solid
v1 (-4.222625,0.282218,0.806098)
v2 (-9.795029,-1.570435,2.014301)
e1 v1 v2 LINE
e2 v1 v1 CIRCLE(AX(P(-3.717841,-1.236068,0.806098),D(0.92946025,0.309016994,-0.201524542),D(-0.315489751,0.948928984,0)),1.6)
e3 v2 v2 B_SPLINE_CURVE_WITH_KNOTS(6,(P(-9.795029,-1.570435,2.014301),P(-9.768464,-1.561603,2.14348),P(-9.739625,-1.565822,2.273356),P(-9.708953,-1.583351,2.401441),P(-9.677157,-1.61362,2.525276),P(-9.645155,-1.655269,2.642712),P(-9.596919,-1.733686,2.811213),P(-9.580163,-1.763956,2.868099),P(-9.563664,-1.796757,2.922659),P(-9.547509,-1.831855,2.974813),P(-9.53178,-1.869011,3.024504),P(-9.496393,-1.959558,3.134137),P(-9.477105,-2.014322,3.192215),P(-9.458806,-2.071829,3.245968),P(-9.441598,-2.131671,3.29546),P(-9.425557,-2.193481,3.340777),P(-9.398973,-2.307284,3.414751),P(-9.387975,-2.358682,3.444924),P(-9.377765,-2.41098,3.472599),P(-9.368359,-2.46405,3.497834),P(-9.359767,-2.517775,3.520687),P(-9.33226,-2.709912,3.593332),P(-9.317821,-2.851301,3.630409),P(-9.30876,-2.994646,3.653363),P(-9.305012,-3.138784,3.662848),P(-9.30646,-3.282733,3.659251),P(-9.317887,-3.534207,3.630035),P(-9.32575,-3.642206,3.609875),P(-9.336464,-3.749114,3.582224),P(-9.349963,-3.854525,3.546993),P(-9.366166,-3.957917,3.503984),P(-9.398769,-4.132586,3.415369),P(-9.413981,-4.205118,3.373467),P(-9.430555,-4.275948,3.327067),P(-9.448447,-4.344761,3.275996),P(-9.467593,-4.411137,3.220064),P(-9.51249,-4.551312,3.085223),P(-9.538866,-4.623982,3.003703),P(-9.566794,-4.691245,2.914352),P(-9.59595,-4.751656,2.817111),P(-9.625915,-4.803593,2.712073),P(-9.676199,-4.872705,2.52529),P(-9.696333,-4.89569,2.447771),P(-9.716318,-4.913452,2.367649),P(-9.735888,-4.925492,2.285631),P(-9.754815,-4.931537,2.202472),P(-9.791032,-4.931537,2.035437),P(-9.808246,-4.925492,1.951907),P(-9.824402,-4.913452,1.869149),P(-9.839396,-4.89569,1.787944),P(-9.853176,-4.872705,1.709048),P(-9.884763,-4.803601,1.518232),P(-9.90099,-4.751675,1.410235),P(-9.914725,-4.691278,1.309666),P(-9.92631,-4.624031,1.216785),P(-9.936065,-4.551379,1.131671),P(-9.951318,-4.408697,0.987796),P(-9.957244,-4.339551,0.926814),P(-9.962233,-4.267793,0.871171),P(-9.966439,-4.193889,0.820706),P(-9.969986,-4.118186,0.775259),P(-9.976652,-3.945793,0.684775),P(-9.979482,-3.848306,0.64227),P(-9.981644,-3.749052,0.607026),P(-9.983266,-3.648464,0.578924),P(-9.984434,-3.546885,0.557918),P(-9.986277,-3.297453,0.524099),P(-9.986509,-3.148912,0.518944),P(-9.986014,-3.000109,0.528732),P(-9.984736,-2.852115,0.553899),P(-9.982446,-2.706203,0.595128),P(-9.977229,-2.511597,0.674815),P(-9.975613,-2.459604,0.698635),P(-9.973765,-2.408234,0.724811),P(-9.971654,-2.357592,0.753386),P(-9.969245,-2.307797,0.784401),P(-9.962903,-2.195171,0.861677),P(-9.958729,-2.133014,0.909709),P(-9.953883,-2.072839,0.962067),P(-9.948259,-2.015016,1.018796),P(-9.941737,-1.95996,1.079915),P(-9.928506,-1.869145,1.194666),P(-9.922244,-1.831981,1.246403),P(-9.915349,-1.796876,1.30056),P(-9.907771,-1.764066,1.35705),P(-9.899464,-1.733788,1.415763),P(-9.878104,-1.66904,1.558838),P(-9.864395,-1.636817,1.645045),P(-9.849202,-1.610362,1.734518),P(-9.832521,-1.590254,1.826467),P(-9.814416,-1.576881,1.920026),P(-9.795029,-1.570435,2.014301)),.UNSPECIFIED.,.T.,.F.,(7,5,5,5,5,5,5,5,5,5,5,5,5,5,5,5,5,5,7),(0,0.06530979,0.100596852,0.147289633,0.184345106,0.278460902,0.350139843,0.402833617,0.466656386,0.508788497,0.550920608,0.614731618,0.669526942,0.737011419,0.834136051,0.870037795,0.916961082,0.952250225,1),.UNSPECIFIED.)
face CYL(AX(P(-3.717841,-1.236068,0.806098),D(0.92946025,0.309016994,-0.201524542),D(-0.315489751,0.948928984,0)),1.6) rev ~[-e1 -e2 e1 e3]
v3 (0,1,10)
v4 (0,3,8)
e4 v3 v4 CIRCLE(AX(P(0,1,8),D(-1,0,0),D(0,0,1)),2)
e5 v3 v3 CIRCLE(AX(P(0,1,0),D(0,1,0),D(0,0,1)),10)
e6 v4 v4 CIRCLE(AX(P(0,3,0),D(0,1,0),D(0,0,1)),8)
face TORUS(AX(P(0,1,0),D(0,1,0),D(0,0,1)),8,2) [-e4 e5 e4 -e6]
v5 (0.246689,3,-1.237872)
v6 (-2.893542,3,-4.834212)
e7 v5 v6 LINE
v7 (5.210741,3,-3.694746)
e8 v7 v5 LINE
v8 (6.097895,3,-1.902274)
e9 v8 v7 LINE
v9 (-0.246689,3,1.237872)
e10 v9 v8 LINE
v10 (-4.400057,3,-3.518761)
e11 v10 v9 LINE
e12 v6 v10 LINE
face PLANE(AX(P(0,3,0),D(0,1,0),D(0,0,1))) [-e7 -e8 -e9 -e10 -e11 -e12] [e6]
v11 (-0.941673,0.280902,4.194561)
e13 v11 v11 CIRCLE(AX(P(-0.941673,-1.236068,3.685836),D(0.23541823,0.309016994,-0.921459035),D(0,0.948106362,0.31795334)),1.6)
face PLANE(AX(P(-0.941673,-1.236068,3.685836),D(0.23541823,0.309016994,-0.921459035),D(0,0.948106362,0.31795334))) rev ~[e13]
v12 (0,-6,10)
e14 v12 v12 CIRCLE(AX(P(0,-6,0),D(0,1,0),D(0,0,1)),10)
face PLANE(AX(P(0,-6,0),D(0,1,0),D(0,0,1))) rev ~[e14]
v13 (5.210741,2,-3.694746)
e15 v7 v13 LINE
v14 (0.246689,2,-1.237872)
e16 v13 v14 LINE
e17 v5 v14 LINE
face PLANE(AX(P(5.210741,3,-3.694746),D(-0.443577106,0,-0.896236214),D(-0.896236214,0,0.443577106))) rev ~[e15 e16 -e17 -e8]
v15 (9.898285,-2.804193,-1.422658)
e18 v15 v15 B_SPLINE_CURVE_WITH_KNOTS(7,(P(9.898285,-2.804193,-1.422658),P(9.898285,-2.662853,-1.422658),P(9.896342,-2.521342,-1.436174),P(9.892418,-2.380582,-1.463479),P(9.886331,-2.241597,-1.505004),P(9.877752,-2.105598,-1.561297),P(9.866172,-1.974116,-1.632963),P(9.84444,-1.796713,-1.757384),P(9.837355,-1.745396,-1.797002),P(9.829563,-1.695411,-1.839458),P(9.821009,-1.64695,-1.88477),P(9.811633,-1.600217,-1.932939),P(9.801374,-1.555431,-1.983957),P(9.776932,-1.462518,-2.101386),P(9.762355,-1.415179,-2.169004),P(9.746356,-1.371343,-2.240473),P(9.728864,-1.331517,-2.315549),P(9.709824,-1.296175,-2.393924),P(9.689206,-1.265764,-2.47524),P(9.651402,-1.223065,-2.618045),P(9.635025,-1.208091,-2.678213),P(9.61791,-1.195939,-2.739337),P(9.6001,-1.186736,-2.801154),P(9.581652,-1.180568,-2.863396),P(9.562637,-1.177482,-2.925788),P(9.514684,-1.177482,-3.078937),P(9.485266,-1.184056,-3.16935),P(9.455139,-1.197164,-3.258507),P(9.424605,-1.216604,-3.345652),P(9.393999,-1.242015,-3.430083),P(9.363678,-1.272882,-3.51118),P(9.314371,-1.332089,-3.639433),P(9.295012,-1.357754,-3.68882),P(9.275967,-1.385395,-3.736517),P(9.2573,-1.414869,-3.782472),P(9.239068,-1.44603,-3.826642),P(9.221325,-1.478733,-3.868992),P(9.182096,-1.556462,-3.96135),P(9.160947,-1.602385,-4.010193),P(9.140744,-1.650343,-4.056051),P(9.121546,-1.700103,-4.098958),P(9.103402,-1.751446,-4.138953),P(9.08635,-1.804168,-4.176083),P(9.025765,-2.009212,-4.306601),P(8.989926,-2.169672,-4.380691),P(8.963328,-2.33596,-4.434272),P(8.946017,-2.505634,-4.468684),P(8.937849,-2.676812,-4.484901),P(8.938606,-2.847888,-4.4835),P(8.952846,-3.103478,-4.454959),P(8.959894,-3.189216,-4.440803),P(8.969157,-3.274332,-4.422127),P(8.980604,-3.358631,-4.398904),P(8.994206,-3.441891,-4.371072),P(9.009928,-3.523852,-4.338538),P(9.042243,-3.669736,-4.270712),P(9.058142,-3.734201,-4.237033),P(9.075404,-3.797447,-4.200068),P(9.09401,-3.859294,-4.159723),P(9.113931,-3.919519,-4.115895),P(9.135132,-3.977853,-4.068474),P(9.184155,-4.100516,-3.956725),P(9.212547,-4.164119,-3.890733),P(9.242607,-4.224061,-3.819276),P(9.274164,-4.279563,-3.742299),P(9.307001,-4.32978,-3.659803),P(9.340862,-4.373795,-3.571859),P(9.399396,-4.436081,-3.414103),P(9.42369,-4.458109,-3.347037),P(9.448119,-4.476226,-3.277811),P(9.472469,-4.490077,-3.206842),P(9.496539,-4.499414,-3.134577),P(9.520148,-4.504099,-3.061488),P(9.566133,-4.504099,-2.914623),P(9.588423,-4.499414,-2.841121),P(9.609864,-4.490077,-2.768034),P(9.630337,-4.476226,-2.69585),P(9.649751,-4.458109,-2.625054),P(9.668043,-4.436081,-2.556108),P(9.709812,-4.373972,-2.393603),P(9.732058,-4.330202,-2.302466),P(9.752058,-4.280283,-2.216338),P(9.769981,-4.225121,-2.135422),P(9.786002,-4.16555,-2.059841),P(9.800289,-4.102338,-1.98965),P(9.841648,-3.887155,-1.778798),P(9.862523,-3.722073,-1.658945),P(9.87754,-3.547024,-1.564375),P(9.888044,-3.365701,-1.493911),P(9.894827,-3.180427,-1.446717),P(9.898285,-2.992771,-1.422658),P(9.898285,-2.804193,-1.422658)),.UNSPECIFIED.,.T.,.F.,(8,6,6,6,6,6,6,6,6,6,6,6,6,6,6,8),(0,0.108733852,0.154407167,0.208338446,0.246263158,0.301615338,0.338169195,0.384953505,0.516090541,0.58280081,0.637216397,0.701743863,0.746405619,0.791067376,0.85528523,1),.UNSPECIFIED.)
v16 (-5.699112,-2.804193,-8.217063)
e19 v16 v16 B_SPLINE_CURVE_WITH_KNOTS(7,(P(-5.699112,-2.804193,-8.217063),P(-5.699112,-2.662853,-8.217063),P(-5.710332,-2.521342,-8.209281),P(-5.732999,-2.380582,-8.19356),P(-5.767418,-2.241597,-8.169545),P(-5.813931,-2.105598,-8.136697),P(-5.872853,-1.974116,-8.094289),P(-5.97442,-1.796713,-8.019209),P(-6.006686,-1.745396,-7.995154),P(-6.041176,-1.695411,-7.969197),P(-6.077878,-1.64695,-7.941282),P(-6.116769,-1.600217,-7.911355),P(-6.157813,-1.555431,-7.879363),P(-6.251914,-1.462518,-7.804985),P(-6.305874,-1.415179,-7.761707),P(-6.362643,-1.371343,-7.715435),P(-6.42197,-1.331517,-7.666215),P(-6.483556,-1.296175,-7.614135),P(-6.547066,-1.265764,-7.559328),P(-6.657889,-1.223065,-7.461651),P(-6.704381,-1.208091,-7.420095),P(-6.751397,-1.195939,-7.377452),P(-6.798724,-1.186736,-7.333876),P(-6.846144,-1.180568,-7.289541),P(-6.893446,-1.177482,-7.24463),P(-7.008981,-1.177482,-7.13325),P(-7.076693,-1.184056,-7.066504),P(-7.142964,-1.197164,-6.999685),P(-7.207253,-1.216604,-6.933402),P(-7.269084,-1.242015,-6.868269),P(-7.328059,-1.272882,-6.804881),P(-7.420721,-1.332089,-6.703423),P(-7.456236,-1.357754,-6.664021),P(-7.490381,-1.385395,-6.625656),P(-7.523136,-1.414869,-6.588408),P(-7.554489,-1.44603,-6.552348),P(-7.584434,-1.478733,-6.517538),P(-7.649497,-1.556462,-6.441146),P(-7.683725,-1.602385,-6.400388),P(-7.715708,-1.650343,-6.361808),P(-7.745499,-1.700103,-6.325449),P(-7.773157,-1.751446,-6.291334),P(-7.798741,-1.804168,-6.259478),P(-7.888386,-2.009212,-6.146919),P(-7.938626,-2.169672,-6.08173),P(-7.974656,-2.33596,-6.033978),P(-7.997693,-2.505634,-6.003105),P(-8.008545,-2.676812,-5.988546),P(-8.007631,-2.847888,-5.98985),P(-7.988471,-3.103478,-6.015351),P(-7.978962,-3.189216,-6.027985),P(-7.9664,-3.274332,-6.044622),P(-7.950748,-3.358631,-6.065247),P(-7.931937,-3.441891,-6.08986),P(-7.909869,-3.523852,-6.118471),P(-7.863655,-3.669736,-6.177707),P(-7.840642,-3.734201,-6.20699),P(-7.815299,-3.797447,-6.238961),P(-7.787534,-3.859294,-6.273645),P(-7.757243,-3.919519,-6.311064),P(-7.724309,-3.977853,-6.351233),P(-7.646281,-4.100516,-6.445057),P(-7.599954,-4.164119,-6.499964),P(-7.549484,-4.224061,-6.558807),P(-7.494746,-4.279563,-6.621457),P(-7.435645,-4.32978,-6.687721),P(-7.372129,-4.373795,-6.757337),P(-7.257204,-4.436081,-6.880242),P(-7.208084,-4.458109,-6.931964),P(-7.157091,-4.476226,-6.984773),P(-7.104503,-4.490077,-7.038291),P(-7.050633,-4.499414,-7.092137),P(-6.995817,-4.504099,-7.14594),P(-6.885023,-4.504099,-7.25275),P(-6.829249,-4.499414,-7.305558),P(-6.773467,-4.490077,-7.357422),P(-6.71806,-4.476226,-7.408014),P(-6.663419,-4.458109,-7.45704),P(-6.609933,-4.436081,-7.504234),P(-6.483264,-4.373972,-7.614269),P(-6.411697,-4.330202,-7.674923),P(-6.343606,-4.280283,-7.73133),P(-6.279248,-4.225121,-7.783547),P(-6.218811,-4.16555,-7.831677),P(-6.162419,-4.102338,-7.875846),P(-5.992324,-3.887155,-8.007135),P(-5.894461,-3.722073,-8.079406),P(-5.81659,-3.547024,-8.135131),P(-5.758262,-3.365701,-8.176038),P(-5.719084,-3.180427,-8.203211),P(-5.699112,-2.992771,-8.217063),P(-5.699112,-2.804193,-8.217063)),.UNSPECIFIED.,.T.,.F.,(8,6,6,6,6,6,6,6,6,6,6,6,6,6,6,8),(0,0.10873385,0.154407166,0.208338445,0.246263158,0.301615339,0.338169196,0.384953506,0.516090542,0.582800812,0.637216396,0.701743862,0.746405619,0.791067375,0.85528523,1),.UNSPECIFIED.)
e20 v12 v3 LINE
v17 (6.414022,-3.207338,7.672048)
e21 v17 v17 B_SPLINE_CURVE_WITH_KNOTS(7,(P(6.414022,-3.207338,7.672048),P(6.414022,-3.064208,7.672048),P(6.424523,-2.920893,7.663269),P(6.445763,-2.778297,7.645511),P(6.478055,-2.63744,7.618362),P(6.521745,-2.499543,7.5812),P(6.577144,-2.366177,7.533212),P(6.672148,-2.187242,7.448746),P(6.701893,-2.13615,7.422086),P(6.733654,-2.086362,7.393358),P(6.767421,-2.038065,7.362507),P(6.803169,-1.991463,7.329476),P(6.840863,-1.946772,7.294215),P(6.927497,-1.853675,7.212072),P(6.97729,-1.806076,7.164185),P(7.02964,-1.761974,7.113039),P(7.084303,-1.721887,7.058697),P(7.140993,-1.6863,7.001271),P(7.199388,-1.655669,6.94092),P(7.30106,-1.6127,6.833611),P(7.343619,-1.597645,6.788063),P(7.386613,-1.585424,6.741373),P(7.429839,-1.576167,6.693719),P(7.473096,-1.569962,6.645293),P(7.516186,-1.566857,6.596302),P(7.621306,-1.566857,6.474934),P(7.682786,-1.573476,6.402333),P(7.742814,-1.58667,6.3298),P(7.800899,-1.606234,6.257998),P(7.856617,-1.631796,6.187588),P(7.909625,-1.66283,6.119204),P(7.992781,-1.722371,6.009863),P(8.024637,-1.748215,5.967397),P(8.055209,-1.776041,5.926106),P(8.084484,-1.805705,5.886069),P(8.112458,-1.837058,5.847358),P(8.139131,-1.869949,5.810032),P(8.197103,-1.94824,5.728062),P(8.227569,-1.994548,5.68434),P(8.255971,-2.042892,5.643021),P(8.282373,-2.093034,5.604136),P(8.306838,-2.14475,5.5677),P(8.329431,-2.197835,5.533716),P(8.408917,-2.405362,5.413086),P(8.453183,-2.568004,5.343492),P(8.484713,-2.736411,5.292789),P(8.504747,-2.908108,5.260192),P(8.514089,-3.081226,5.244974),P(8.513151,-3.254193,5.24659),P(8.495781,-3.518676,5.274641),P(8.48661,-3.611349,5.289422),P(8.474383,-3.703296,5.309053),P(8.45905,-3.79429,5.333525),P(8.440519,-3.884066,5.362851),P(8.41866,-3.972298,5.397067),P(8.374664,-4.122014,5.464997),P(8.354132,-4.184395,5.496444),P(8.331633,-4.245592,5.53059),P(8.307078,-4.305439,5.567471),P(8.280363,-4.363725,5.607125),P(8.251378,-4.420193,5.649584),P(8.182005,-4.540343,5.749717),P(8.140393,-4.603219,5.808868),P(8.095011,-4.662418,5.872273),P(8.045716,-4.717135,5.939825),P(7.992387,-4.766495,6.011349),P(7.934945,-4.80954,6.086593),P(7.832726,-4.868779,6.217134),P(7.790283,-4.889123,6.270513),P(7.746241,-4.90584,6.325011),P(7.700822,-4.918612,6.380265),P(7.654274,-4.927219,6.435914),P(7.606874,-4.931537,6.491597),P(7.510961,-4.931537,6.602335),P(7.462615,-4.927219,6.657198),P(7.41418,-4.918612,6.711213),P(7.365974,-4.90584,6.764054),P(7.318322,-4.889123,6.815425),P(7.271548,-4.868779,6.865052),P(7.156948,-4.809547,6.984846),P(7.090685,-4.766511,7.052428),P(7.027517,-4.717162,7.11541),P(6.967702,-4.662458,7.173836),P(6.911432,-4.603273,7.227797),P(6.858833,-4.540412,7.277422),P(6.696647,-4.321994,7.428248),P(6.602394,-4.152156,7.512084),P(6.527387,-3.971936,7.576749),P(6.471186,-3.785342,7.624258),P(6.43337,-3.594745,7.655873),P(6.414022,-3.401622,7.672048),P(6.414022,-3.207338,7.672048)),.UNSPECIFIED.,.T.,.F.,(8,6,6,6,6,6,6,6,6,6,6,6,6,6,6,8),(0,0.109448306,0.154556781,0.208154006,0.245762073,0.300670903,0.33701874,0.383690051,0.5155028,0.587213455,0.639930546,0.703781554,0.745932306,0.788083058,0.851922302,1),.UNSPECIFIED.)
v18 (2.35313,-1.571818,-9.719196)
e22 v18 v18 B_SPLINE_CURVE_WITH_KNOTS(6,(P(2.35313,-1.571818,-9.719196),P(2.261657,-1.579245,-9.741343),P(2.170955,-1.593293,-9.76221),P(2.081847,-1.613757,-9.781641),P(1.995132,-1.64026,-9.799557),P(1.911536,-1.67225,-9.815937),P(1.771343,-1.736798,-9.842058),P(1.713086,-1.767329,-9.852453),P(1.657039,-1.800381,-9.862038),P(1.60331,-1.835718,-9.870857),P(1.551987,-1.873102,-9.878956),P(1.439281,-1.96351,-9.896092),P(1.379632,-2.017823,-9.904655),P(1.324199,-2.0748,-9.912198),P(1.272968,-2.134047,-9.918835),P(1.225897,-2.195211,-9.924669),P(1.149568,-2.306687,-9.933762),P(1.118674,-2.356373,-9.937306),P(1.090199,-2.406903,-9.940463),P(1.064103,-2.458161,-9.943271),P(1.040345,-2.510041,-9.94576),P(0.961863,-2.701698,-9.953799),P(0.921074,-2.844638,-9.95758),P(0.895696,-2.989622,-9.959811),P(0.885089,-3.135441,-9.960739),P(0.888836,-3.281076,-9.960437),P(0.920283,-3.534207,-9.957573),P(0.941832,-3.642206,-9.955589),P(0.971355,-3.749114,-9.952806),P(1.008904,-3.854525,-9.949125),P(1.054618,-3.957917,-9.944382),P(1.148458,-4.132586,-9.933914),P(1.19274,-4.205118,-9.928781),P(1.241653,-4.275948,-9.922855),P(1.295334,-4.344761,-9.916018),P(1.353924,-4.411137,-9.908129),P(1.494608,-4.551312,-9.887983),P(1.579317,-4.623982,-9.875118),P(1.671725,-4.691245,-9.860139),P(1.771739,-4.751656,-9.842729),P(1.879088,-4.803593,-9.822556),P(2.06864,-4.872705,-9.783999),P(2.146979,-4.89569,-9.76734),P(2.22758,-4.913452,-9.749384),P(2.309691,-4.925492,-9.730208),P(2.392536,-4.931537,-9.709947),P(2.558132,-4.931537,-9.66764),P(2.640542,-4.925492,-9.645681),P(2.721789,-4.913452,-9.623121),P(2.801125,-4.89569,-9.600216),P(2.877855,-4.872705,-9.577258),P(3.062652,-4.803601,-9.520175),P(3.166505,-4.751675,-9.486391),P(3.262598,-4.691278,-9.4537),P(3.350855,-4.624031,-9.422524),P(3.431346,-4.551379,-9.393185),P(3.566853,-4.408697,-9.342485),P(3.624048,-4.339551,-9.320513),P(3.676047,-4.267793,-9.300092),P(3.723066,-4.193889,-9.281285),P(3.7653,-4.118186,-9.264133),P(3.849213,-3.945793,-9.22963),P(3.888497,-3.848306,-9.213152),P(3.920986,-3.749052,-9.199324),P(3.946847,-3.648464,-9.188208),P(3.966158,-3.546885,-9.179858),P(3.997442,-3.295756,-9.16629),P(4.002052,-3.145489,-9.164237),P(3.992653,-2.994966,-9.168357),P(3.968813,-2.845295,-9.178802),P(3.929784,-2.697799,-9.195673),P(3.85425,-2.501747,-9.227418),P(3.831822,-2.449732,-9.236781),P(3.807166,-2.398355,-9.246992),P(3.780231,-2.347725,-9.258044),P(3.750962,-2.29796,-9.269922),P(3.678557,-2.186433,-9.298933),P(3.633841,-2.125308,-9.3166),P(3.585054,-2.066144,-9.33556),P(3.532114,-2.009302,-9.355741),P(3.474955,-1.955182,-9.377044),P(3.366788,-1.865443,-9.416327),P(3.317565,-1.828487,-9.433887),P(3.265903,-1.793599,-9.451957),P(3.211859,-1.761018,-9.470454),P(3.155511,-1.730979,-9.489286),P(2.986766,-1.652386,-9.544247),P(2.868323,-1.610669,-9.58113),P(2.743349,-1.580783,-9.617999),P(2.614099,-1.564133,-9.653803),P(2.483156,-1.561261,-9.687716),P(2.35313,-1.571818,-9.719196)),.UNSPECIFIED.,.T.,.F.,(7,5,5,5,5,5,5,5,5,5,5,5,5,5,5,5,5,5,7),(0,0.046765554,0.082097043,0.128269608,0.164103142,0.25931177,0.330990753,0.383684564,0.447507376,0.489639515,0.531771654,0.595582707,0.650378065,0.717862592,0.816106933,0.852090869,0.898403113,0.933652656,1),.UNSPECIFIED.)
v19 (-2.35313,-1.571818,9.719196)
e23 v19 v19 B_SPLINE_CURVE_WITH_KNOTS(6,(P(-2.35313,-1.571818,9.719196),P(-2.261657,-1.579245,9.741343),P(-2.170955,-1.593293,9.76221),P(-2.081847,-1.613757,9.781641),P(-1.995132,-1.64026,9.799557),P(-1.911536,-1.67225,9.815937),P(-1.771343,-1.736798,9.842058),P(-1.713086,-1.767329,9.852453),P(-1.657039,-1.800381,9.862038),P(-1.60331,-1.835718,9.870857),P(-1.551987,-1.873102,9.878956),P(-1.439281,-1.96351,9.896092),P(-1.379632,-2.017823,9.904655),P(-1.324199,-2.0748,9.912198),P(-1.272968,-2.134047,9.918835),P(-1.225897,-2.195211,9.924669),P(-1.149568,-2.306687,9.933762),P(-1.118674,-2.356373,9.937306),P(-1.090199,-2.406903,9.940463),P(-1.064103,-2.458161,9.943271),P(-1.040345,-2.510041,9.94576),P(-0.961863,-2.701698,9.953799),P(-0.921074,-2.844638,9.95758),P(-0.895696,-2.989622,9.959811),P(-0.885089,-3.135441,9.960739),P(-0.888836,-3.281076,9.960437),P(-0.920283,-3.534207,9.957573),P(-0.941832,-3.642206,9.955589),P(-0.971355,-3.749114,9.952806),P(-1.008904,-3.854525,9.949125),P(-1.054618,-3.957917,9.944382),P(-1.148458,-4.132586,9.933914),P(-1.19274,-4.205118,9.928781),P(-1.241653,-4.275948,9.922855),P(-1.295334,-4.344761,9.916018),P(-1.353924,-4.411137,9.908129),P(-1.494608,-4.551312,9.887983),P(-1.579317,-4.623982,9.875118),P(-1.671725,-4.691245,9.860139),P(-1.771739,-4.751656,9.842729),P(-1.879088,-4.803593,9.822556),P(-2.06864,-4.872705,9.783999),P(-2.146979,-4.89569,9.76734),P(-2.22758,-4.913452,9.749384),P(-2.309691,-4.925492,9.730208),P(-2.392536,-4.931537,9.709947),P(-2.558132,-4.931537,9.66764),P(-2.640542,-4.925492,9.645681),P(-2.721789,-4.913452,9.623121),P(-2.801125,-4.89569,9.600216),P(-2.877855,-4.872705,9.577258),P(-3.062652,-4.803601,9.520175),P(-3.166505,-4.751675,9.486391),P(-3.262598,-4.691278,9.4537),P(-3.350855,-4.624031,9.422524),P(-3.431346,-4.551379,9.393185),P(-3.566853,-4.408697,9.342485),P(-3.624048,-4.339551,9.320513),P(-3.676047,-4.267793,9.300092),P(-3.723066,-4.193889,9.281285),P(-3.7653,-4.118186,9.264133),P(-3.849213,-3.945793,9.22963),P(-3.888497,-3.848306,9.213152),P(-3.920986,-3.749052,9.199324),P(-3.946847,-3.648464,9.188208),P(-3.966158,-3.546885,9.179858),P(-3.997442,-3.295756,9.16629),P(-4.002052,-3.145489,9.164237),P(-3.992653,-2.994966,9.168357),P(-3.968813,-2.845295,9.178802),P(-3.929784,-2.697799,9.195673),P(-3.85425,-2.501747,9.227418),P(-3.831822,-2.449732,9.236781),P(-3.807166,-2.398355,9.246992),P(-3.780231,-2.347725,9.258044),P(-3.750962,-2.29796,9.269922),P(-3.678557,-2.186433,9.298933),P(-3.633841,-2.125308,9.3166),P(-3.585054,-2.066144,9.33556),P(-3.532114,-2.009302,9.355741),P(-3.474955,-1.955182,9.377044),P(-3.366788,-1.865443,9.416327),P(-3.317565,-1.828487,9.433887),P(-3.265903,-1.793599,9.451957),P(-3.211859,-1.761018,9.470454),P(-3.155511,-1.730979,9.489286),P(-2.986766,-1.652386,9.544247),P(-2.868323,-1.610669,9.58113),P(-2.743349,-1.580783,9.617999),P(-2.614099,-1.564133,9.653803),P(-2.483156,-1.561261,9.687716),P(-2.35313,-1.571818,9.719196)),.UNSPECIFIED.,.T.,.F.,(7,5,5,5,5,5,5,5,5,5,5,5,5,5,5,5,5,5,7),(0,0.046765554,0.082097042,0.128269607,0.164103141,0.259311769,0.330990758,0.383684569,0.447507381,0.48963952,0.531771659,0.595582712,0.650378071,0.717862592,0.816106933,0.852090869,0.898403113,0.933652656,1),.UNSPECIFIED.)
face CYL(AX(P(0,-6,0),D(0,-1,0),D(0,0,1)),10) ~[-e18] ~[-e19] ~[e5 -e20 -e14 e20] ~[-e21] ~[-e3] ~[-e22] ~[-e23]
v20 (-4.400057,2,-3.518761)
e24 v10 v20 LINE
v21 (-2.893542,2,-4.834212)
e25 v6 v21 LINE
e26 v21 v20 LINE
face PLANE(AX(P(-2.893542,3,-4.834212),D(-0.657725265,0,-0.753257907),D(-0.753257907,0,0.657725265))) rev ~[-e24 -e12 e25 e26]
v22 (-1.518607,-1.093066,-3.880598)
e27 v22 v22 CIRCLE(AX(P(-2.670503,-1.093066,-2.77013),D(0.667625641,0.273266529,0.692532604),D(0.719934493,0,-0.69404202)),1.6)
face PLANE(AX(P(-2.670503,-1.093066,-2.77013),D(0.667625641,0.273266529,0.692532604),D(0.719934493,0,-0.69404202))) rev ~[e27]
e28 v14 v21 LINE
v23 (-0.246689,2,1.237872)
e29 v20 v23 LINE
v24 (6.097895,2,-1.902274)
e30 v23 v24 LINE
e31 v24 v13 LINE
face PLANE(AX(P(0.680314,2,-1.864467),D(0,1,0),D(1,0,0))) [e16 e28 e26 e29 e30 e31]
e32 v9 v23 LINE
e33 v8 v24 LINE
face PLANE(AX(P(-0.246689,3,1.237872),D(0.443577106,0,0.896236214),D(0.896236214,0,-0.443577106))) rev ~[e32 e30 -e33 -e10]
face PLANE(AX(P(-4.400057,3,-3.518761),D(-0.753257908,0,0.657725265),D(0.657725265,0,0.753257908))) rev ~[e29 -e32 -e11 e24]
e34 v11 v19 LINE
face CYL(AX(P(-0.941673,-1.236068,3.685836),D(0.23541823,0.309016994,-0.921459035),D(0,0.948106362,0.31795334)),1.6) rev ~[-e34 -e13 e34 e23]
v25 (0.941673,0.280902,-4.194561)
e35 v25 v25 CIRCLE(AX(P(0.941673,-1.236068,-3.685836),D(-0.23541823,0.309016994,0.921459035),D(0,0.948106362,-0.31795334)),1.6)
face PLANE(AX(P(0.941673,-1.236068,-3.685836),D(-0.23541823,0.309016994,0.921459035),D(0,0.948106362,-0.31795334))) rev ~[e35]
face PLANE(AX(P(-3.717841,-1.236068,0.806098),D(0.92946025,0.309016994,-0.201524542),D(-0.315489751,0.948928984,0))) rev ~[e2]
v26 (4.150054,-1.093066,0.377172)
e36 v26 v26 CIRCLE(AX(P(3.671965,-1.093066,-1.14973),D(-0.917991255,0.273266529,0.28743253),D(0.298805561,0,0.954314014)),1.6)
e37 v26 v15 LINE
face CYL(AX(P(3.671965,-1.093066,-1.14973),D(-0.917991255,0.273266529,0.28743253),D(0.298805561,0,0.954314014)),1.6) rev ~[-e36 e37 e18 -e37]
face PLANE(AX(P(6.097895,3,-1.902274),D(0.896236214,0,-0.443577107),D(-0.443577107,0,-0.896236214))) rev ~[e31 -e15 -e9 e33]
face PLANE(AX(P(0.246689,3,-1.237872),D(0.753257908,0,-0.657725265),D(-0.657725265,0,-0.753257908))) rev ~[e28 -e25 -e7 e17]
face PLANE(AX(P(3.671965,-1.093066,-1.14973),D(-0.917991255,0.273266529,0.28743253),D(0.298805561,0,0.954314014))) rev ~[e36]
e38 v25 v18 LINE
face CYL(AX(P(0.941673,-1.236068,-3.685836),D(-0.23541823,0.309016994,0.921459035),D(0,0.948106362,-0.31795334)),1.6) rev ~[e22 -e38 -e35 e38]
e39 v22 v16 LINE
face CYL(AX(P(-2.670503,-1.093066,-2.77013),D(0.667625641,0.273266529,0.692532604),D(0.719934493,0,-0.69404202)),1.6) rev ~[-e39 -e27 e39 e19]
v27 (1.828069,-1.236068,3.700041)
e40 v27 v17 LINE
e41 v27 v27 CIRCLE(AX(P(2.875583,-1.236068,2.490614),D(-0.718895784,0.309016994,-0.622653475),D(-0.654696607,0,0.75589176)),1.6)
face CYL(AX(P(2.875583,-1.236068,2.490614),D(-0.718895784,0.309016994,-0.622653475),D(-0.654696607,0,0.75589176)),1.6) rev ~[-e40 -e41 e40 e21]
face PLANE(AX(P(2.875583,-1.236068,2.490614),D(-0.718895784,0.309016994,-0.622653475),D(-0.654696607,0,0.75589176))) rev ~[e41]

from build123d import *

# Parameters (mm, degrees)
BASE_DEPTH              = 3
BASE_DEPTH_BACK         = 6
SKETCH1_R               = 10
SKETCH3_R               = 1.6
HOLE2_DEPTH             = 19.1581212
HOLE2MIRROR_COUNT       = 2
SKETCH4_R               = 1.6
HOLE3_DEPTH             = 19.100993715
SKETCH5_R               = 1.6
CUT_EXTRUDE1_DEPTH      = 19.311666101
SKETCH6_R               = 1.6
CUT_EXTRUDE2_DEPTH      = 19.560472272
SKETCH7_R               = 1.6
CUT_EXTRUDE3_DEPTH      = 19.646604846
FILLET1_R               = 2
CUT_EXTRUDE_THIN1_DEPTH = 1


with BuildPart() as part:
    # Sketch1 → base (new, two sides: drawn at the far end of the back side and taken through both)
    with BuildSketch(Plane(origin=(0, 0, 0), x_dir=(1, 0, 0), z_dir=(0, 1, 0)).offset(-BASE_DEPTH_BACK)):
        Circle(SKETCH1_R)
    extrude(amount=BASE_DEPTH + BASE_DEPTH_BACK)

    # Sketch3 → hole2 (cut, through all)
    with BuildSketch(Plane(origin=(-0.941672921, -1.236067977, 3.685836142), x_dir=(-0.9718935871364875, 0.07382318789513377, -0.22354639834264944), z_dir=(0.23541823021467095, 0.3090169943749464, -0.921459035481267))):
        Circle(SKETCH3_R)
    hole2 = extrude(amount=-HOLE2_DEPTH, mode=Mode.SUBTRACT)

    # hole2mirror: hole2 ×2 about axis
    hole2mirror_axis = Axis((0, 5.5, 0), (0, -1, 0))
    for i in range(1, HOLE2MIRROR_COUNT):
        add(hole2.rotate(hole2mirror_axis, i * 360 / HOLE2MIRROR_COUNT), mode=Mode.SUBTRACT)

    # Sketch4 → hole3 (cut, through all)
    with BuildSketch(Plane(origin=(-3.717841, -1.236067977, 0.806098168), x_dir=(-0.19123247894507908, -0.06357892752956036, -0.979483465389136), z_dir=(0.9294602499075393, 0.30901699437494623, -0.20152454200243008))):
        Circle(SKETCH4_R)
    extrude(amount=-HOLE3_DEPTH, mode=Mode.SUBTRACT)

    # Sketch5 → Cut-Extrude1 (cut, through all)
    with BuildSketch(Plane(origin=(3.671965021, -1.093066116, -1.149730122), x_dir=(0.2754858058396647, -0.08200628219437099, 0.9578008876909271), z_dir=(-0.9179912552075574, 0.27326652891267317, 0.2874325304110031))):
        Circle(SKETCH5_R)
    extrude(amount=-CUT_EXTRUDE1_DEPTH, mode=Mode.SUBTRACT)

    # Sketch6 → Cut-Extrude2 (cut, through all)
    with BuildSketch(Plane(origin=(2.875583134, -1.236067977, 2.490613899), x_dir=(-0.5720437997755544, 0.24589274231852376, 0.782497699941298), z_dir=(-0.7188957835464718, 0.30901699437494723, -0.6226534747245682))):
        Circle(SKETCH6_R)
    extrude(amount=-CUT_EXTRUDE2_DEPTH, mode=Mode.SUBTRACT)

    # Sketch7 → Cut-Extrude3 (cut, through all)
    with BuildSketch(Plane(origin=(-2.670502563, -1.093066116, -2.770130417), x_dir=(0.7444971483747472, -0.2450509606833859, -0.6210265877802813), z_dir=(0.6676256406564008, 0.2732665289126714, 0.6925326043690294))):
        Circle(SKETCH7_R)
    extrude(amount=-CUT_EXTRUDE3_DEPTH, mode=Mode.SUBTRACT)

    # Fillet1
    fillet1_edges = [part.edges().sort_by_distance(p)[0] for p in [
        (-10, 3, 0),
    ]]
    fillet(fillet1_edges, radius=FILLET1_R)

    # Sketch9 → Cut-Extrude-Thin1 (cut)
    with BuildSketch(Plane(origin=(0, 3, 0), x_dir=(1, 0, 0), z_dir=(0, 1, 0))):
        Polygon((-4.40005736, 3.518760981), (-0.246688962, -1.237871846), (6.097894842, 1.902273668), (5.210740629, 3.694746095), (0.246688962, 1.237871846), (-2.893541545, 4.834211512), align=None)
    extrude(amount=-CUT_EXTRUDE_THIN1_DEPTH, mode=Mode.SUBTRACT)


solid = part.part
